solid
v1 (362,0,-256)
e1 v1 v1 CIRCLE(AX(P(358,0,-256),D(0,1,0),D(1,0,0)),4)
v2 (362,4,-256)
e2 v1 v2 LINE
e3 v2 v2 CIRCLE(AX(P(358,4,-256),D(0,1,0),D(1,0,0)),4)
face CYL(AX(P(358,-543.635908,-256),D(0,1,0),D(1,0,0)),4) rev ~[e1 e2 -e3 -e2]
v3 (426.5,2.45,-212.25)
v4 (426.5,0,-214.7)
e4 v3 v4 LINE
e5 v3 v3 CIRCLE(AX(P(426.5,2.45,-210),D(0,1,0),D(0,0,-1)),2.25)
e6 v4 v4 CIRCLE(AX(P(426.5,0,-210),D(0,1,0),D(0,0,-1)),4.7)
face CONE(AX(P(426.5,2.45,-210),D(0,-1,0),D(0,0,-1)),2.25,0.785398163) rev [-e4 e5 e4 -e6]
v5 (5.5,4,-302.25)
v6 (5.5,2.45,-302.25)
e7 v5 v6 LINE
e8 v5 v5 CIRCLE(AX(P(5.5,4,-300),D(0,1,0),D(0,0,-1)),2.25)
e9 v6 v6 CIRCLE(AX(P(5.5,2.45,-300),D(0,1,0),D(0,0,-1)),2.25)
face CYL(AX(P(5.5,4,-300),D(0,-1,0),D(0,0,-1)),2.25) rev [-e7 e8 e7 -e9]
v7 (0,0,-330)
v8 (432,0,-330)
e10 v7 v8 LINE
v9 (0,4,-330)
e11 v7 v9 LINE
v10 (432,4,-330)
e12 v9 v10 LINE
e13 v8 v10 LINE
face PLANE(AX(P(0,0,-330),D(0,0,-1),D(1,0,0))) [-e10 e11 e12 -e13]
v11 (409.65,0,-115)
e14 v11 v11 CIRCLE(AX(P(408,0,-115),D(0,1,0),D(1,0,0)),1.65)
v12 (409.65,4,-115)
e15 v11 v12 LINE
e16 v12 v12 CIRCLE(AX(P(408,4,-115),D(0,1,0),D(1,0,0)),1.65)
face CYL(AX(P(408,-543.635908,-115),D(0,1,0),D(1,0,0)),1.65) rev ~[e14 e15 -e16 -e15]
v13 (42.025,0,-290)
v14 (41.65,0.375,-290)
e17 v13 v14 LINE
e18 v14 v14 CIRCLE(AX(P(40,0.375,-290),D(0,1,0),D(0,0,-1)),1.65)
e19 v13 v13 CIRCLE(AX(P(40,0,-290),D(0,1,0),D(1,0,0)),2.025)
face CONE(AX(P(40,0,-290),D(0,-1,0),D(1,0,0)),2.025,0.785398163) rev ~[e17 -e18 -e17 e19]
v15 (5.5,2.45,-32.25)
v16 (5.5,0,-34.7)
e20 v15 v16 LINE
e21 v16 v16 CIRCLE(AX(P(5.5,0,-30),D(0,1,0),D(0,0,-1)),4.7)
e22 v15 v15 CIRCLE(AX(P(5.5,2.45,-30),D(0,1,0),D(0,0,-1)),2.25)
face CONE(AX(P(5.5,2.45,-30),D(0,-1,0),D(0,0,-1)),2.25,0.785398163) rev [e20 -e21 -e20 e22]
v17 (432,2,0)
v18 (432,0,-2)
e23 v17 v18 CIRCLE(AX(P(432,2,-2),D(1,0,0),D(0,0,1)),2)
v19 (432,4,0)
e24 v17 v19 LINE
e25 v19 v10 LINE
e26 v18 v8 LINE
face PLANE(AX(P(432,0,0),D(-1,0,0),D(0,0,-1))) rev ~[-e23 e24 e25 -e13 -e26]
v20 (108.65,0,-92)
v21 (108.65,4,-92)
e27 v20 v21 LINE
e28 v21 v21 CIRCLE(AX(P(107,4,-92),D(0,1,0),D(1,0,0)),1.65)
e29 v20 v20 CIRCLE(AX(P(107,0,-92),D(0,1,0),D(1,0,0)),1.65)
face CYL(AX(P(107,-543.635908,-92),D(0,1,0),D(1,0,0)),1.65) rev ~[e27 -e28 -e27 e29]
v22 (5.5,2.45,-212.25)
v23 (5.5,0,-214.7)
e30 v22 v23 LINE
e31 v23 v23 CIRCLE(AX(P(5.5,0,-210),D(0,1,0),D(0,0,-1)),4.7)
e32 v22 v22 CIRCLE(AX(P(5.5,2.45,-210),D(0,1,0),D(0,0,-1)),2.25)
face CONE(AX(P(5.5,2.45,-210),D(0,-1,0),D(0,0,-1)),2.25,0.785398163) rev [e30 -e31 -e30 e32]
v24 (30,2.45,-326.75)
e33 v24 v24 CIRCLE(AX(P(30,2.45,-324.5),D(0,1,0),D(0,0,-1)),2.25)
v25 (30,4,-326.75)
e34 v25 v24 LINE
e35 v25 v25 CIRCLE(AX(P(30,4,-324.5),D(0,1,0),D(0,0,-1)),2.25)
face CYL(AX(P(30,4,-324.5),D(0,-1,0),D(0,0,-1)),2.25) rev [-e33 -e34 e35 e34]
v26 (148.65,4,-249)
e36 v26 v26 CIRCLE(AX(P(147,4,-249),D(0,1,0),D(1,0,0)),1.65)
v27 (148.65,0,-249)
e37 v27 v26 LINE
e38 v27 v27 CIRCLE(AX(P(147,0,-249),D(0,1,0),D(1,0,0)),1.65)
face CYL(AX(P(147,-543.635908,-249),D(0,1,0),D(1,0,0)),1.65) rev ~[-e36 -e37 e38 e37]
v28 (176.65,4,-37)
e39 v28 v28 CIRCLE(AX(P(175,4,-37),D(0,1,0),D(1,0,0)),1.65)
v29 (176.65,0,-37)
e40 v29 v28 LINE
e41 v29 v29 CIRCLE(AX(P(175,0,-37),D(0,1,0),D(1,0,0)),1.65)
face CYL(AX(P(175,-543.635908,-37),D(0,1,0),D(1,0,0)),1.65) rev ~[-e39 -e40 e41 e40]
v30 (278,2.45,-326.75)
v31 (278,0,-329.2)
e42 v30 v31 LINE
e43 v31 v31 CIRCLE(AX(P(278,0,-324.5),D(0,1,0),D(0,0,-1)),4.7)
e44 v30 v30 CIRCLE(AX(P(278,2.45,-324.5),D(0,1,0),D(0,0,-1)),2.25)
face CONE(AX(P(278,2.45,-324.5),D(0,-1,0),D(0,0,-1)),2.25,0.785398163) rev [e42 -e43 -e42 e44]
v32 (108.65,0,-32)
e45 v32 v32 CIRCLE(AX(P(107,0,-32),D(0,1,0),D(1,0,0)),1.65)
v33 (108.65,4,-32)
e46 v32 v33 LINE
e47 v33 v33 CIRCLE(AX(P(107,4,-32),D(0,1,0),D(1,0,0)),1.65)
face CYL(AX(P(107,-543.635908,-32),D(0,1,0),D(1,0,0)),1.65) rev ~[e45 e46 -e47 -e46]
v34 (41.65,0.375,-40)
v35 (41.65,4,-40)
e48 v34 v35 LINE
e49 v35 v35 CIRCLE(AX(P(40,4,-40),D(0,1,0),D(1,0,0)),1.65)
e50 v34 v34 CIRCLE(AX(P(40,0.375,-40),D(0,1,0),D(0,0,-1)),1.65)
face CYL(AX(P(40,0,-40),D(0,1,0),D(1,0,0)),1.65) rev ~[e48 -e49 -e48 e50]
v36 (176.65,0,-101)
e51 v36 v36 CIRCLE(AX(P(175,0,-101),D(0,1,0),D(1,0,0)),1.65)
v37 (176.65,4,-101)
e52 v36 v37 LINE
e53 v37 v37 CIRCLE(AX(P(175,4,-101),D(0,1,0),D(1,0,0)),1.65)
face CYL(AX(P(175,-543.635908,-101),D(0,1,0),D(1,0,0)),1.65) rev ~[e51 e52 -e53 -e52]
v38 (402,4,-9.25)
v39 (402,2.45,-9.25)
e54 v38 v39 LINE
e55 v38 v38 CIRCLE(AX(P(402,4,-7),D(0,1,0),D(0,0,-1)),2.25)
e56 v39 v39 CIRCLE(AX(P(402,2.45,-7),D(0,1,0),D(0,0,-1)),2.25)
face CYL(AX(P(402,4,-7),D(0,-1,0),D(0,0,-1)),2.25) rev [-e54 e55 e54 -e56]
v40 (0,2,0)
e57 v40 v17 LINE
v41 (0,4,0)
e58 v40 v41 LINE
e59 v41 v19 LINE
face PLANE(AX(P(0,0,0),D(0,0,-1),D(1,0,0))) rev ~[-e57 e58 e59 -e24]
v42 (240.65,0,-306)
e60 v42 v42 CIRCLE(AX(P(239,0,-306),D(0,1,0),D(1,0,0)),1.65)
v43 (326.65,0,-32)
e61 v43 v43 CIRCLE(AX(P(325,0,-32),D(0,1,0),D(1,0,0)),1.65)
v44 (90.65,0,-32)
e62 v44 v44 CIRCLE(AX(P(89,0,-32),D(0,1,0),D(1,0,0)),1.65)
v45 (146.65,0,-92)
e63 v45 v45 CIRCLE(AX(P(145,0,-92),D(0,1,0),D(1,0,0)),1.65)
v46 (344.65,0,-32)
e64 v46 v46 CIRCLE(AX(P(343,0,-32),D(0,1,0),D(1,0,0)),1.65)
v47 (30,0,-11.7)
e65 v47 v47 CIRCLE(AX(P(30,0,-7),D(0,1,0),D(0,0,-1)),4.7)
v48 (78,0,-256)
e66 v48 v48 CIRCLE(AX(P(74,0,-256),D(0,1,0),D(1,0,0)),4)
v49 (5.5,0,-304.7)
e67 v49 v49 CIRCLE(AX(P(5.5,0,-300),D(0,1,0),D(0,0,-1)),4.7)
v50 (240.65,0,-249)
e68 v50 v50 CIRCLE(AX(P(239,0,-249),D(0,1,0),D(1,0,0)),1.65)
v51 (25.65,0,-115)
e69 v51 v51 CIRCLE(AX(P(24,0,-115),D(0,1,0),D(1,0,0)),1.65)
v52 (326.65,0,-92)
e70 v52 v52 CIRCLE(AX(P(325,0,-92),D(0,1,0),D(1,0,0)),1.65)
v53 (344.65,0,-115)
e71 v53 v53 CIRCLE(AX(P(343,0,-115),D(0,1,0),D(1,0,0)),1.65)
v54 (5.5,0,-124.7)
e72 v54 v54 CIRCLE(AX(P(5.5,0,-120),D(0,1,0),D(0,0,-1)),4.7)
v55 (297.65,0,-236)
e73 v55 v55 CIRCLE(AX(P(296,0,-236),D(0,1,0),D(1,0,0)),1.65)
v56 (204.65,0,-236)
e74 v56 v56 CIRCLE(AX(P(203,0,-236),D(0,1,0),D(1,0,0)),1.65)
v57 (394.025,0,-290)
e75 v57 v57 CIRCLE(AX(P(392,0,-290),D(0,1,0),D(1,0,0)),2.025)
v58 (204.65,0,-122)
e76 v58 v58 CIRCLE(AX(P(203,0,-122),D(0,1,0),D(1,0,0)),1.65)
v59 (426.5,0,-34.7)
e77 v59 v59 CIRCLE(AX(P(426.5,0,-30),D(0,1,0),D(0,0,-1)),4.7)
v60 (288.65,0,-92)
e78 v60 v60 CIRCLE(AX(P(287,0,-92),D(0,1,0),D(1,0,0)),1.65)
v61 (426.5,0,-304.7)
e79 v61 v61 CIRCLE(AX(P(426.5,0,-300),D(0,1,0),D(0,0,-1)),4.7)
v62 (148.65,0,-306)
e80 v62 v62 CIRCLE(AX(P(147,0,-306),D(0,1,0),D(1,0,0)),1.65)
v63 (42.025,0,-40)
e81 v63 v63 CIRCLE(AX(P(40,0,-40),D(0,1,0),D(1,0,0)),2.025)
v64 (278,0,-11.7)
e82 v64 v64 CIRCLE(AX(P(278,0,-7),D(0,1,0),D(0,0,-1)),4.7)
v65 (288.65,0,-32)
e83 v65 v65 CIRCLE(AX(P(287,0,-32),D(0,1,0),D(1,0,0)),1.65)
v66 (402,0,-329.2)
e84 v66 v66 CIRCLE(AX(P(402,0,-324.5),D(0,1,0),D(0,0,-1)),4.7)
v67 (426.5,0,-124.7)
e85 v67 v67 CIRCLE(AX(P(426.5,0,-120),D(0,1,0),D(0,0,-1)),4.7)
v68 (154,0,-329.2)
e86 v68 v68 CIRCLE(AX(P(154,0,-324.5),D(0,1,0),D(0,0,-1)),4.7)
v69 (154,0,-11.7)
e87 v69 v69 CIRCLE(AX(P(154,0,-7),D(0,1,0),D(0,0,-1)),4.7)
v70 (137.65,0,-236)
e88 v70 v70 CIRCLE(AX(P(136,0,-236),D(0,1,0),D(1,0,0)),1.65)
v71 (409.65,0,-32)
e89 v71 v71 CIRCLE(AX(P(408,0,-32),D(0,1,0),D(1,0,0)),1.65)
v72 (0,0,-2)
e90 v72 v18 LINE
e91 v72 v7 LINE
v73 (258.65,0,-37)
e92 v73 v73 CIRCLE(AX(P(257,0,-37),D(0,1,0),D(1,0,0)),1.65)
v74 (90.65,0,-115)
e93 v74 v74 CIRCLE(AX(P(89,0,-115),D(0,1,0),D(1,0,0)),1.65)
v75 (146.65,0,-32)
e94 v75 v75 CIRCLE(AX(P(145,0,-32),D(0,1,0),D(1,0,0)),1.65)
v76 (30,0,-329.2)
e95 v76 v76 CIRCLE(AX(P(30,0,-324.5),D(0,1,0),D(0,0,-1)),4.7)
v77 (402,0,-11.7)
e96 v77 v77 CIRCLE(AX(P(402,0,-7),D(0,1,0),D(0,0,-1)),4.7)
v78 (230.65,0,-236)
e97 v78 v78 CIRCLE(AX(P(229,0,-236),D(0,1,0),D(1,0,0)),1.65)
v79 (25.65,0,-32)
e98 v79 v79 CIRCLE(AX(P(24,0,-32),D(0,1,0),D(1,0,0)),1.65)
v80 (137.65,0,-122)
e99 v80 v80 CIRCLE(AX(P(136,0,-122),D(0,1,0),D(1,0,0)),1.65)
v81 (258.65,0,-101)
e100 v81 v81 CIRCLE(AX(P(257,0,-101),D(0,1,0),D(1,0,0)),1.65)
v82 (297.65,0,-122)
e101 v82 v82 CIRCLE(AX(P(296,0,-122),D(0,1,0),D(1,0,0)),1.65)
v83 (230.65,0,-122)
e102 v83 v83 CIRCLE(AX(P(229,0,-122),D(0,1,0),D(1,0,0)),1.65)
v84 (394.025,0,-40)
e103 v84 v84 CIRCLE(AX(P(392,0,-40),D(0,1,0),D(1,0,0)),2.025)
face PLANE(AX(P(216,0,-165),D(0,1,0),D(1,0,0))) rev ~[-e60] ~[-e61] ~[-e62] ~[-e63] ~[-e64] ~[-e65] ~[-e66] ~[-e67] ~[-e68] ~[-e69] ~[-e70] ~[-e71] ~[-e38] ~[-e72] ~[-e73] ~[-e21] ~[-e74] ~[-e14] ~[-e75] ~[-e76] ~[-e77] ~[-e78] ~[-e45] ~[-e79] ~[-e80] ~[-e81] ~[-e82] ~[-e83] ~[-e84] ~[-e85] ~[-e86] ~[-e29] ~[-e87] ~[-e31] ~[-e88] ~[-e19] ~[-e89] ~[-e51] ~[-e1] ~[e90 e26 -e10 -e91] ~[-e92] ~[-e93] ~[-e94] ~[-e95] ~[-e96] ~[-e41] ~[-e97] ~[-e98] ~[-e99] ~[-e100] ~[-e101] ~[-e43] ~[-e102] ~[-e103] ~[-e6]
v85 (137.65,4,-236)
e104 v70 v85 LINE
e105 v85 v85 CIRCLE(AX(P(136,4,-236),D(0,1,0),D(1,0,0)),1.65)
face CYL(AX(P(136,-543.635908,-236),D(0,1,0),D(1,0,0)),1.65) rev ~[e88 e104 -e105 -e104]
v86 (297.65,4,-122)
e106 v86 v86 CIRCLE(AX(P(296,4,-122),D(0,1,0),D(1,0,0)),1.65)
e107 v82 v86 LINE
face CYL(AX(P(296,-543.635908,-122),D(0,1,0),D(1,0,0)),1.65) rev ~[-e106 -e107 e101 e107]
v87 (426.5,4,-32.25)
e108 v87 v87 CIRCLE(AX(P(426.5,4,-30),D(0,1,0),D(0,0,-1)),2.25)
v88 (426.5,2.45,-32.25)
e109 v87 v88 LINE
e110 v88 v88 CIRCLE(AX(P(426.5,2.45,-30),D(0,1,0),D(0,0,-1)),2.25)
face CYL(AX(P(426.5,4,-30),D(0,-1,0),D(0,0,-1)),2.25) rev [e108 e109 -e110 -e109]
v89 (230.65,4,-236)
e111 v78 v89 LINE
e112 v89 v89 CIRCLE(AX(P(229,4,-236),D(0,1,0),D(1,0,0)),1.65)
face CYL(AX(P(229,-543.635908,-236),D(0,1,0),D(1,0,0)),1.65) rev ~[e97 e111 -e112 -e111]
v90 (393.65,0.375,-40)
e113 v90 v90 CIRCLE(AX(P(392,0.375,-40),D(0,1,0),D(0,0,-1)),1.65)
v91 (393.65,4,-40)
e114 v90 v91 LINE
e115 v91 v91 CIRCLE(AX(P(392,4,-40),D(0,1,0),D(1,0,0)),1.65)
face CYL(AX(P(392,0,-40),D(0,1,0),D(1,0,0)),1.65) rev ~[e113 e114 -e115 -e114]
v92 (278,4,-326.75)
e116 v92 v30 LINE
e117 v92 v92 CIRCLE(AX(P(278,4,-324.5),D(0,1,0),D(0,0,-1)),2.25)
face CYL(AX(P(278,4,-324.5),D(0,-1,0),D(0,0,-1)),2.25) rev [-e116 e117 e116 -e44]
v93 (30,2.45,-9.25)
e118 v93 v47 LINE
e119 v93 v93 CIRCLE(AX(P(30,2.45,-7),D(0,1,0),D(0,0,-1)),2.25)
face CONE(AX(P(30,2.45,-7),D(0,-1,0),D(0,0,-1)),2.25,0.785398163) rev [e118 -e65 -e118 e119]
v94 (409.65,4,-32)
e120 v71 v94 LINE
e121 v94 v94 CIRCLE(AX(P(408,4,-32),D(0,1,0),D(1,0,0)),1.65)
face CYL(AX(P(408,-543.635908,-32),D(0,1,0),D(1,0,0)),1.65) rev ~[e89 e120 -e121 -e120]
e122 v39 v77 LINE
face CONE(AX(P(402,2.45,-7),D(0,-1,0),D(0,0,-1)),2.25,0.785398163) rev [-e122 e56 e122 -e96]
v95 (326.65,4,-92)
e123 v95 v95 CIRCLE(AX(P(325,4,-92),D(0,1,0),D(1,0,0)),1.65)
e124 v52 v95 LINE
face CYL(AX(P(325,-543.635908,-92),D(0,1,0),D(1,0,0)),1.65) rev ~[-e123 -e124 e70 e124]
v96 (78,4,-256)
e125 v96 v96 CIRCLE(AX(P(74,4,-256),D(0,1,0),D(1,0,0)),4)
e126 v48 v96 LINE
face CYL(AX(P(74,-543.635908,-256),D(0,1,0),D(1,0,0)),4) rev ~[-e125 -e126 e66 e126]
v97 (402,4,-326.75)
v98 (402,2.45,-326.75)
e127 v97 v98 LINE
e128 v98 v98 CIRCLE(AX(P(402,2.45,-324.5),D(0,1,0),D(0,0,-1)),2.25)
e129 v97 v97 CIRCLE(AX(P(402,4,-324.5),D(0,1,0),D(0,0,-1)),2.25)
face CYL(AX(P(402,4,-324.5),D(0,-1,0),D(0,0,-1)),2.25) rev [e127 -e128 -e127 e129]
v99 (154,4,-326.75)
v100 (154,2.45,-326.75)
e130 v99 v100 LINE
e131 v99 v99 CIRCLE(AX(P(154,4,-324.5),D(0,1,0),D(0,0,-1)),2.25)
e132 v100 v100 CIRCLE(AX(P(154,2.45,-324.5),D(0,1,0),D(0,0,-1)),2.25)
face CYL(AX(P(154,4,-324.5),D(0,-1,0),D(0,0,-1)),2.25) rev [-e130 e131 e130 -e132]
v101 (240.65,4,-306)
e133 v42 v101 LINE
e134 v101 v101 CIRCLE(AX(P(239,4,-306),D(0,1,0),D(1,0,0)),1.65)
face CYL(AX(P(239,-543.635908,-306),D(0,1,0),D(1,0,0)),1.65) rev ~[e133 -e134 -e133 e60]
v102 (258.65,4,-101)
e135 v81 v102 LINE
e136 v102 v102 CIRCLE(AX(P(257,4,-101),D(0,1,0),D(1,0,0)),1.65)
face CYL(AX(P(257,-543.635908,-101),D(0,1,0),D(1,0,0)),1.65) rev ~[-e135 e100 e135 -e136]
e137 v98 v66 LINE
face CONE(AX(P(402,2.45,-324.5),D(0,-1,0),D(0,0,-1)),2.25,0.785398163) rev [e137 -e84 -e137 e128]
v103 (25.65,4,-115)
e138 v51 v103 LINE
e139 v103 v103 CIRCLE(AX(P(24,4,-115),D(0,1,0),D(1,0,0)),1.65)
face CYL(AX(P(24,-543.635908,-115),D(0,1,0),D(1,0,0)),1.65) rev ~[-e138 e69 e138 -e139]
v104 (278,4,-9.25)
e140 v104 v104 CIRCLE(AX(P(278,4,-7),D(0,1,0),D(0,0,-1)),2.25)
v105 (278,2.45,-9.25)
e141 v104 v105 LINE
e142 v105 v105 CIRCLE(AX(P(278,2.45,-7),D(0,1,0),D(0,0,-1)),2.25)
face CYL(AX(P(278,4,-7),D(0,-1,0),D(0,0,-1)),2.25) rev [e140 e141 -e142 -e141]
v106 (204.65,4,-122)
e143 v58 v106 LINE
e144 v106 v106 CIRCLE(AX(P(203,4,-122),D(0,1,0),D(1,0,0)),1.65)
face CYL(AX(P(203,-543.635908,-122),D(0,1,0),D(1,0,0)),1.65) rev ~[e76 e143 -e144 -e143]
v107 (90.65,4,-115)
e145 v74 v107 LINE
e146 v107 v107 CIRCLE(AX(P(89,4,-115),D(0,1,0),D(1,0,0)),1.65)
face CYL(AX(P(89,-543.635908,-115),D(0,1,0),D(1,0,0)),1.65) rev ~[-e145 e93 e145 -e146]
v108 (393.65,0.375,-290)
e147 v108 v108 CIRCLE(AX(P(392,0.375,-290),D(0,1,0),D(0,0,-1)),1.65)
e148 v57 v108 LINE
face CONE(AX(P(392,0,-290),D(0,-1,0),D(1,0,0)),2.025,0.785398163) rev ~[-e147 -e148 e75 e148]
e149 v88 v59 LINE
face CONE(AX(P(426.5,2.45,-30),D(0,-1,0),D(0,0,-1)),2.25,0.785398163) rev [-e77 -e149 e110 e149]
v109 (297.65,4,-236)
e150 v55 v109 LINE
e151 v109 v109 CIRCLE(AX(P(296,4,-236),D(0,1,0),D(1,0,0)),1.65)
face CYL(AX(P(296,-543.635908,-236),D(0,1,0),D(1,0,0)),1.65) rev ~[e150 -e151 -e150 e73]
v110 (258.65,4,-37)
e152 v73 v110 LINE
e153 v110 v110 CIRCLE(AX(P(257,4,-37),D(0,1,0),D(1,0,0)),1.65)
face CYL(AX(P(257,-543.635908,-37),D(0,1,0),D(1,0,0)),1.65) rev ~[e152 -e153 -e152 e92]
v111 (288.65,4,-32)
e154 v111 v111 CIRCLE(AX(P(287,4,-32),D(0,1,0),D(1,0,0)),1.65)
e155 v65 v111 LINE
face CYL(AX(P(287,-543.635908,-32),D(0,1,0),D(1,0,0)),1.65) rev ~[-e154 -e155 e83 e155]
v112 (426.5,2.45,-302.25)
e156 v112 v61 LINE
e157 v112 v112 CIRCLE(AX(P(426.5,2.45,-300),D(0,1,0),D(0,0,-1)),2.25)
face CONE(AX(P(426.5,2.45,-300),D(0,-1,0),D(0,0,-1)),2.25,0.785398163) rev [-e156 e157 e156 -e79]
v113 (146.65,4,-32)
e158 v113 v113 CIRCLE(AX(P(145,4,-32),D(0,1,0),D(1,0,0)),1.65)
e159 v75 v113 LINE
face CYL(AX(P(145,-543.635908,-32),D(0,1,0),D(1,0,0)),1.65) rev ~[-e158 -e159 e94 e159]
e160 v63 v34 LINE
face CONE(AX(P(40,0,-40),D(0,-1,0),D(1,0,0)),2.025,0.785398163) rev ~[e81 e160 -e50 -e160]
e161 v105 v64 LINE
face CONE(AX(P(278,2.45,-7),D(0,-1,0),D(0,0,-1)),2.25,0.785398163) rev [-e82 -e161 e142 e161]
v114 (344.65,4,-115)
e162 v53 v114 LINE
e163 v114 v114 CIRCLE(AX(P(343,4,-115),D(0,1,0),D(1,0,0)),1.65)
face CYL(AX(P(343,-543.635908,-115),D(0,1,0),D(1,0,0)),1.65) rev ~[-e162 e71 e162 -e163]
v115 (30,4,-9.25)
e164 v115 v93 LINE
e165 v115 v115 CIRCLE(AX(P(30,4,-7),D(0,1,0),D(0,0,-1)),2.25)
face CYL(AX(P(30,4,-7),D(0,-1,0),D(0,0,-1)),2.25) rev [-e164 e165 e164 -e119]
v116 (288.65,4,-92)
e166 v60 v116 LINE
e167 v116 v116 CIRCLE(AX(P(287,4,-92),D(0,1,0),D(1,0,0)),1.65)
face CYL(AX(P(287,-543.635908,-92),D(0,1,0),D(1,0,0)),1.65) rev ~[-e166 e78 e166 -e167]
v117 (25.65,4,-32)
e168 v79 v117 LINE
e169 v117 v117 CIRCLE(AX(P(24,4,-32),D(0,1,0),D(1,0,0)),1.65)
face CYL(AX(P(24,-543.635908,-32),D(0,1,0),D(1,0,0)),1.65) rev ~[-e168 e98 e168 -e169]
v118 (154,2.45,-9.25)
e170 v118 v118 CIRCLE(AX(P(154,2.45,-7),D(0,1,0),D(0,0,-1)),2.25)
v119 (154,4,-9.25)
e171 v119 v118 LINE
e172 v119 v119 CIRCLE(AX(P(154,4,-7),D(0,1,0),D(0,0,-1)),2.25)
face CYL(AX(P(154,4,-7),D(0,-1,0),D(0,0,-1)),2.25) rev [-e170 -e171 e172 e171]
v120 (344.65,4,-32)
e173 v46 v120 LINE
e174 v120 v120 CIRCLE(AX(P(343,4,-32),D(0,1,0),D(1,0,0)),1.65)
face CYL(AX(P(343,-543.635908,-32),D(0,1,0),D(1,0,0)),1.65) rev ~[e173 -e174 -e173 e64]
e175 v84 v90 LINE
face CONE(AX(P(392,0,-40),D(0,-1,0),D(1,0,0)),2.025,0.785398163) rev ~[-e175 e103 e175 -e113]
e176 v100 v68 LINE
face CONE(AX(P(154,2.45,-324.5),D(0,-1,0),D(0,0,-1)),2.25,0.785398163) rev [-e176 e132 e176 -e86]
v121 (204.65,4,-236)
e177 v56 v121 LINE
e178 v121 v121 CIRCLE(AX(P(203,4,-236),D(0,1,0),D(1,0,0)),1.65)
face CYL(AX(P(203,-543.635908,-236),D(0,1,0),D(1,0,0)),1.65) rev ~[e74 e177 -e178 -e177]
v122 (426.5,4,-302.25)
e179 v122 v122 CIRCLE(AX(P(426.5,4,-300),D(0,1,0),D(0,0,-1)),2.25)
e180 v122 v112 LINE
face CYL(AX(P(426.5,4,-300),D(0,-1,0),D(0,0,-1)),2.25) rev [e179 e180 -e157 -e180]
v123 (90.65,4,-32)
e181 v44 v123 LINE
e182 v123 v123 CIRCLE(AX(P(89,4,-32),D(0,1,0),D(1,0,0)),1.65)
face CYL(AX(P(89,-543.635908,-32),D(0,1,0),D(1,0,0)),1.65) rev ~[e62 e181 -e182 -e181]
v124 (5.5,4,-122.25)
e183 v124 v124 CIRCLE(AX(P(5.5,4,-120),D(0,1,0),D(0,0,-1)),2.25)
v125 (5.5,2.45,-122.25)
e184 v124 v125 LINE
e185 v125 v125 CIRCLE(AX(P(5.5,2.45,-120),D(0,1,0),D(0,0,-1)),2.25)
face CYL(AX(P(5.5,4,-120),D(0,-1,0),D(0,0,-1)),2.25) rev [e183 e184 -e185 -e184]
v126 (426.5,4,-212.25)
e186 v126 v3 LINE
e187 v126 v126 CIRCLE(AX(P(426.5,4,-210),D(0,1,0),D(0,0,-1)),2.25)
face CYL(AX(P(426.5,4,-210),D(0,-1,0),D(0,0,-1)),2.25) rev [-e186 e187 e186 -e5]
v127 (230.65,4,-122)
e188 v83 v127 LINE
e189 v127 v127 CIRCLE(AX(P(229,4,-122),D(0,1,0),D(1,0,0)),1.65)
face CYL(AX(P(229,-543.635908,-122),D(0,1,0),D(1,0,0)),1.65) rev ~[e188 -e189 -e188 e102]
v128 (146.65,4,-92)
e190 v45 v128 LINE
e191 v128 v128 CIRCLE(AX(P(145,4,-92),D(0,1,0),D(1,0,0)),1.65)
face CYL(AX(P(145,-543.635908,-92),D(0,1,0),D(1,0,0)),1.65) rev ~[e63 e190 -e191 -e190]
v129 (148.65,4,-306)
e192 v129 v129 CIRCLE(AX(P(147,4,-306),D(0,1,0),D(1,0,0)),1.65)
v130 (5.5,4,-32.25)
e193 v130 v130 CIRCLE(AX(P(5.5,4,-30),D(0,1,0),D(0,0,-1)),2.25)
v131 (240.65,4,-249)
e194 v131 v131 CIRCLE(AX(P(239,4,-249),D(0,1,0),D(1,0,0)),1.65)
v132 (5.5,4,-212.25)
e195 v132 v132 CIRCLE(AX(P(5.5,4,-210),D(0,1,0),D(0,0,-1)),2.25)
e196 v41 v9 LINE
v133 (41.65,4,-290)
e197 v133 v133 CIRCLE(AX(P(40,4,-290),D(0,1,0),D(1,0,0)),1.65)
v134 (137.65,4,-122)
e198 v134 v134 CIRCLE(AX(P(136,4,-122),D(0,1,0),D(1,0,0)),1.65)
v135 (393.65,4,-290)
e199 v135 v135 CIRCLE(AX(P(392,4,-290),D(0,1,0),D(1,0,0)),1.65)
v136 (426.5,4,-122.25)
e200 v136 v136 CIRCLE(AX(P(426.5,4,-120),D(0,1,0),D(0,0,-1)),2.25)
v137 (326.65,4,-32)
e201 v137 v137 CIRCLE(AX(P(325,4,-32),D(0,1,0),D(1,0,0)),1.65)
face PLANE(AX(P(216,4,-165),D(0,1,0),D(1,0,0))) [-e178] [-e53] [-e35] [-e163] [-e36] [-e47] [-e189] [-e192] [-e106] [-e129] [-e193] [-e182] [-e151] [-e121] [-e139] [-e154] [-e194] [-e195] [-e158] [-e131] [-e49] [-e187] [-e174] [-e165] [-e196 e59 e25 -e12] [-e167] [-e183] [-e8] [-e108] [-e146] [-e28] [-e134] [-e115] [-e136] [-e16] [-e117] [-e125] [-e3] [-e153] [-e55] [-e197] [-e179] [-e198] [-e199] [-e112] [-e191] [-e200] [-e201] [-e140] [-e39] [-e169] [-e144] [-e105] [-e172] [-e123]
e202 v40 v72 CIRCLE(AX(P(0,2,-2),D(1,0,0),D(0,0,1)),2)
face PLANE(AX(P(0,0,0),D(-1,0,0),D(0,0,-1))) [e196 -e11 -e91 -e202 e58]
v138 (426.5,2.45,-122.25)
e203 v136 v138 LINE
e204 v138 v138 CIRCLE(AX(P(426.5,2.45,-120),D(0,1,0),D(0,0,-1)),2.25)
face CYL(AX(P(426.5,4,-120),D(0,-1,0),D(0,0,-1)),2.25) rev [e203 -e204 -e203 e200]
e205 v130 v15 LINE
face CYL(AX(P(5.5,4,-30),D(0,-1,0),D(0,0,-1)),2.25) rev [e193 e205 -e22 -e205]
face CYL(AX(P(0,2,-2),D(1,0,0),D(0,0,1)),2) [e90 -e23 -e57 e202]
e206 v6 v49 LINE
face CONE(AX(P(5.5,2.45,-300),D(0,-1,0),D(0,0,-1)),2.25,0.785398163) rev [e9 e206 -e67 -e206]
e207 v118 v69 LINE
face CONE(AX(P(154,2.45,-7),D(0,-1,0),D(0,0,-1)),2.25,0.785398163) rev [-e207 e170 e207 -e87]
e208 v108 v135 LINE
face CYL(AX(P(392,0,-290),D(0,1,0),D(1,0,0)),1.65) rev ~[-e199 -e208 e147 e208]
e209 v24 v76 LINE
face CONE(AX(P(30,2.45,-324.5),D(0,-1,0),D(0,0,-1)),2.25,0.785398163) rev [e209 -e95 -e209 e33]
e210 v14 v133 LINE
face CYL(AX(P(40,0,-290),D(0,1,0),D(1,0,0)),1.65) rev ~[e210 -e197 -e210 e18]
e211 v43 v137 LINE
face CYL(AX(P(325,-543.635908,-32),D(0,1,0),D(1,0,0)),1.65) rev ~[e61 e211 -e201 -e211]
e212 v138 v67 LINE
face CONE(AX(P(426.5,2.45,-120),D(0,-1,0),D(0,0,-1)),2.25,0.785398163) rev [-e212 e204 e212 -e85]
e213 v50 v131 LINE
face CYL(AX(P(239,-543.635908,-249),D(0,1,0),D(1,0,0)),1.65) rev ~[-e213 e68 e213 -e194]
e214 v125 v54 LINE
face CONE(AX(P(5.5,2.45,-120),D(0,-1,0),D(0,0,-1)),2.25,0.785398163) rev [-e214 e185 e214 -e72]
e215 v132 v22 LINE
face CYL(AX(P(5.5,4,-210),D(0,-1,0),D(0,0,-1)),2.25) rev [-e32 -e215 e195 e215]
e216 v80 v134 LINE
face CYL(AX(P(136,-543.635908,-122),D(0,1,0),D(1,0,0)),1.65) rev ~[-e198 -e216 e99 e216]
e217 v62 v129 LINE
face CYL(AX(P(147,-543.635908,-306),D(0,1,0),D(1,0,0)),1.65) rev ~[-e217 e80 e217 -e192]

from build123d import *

# Parameters (mm, degrees)
SKETCH_2_W                   = 432
SKETCH_2_H                   = 330
EXTRUDE_1_DEPTH              = 4
HOLE_WIZARD_406_AT_2_COUNT   = 2
HOLE_WIZARD_406_AT_2_PITCH   = 294.02253315
HOLE_WIZARD_406_AT_3_COUNT   = 2
HOLE_WIZARD_406_AT_3_PITCH   = 204.473103366
HOLE_WIZARD_406_AT_4_COUNT   = 2
HOLE_WIZARD_406_AT_4_PITCH   = 115.625472972
HOLE_WIZARD_406_AT_5_COUNT   = 2
HOLE_WIZARD_406_AT_5_PITCH   = 33.604315199
HOLE_WIZARD_406_AT_6_COUNT   = 2
HOLE_WIZARD_406_AT_6_PITCH   = 124
HOLE_WIZARD_406_AT_7_COUNT   = 2
HOLE_WIZARD_406_AT_7_PITCH   = 248
HOLE_WIZARD_406_AT_8_COUNT   = 2
HOLE_WIZARD_406_AT_8_PITCH   = 372
HOLE_WIZARD_406_AT_9_COUNT   = 2
HOLE_WIZARD_406_AT_9_PITCH   = 397.166526787
HOLE_WIZARD_406_AT_10_COUNT  = 2
HOLE_WIZARD_406_AT_10_PITCH  = 412.28782422
HOLE_WIZARD_406_AT_11_COUNT  = 2
HOLE_WIZARD_406_AT_11_PITCH  = 445.445002217
HOLE_WIZARD_406_AT_12_COUNT  = 2
HOLE_WIZARD_406_AT_12_PITCH  = 493.012423779
HOLE_WIZARD_406_AT_13_COUNT  = 2
HOLE_WIZARD_406_AT_13_PITCH  = 489.070802645
HOLE_WIZARD_406_AT_14_COUNT  = 2
HOLE_WIZARD_406_AT_14_PITCH  = 402.87746276
HOLE_WIZARD_406_AT_15_COUNT  = 2
HOLE_WIZARD_406_AT_15_PITCH  = 340.855174524
HOLE_WIZARD_406_AT_16_COUNT  = 2
HOLE_WIZARD_406_AT_16_PITCH  = 317.5
FILLET_1_R                   = 2
HOLE_WIZARD_1584_D           = 8
M4P8_D                       = 3.3
HOLE_WIZARD_3528_D           = 3.3
HOLE_WIZARD_3528_CSINK_D     = 4.05
HOLE_WIZARD_3528_CSINK_ANGLE = 90
M4P9_D                       = 3.3
M4P10_D                      = 3.3


with BuildPart() as part:
    # 草圖2 → 填料-伸長1 (new body)
    with BuildSketch(Plane(origin=(0, 0, 0), x_dir=(1, 0, 0), z_dir=(0, 1, 0))):
        with Locations((216, 165)):
            Rectangle(SKETCH_2_W, SKETCH_2_H)
    extrude(amount=EXTRUDE_1_DEPTH)

    # 草圖3 → Hole Wizard 406 (revolve, cut)
    with BuildSketch(Plane(origin=(30, 0, -7), x_dir=(0, 0, -1), z_dir=(1, 0, 0))):
        Polygon((0, 0), (0, 4), (2.25, 4), (2.25, 2.45), (4.7, 0), align=None)
    hole_wizard_406 = revolve(axis=Axis((30, -6.35, -7), (0, 1, 0)), mode=Mode.SUBTRACT)

    # Hole Wizard 406 at 2: Hole Wizard 406 ×2
    with Locations(*[Vector(-0.083326947, 0, -0.996522263) * (i * HOLE_WIZARD_406_AT_2_PITCH) for i in range(1, HOLE_WIZARD_406_AT_2_COUNT)]):
        add(hole_wizard_406, mode=Mode.SUBTRACT)

    # Hole Wizard 406 at 3: Hole Wizard 406 ×2
    with Locations(*[Vector(-0.11982016, 0, -0.992795613) * (i * HOLE_WIZARD_406_AT_3_PITCH) for i in range(1, HOLE_WIZARD_406_AT_3_COUNT)]):
        add(hole_wizard_406, mode=Mode.SUBTRACT)

    # Hole Wizard 406 at 4: Hole Wizard 406 ×2
    with Locations(*[Vector(-0.211891025, 0, -0.9772933) * (i * HOLE_WIZARD_406_AT_4_PITCH) for i in range(1, HOLE_WIZARD_406_AT_4_COUNT)]):
        add(hole_wizard_406, mode=Mode.SUBTRACT)

    # Hole Wizard 406 at 5: Hole Wizard 406 ×2
    with Locations(*[Vector(-0.729073033, 0, -0.684435908) * (i * HOLE_WIZARD_406_AT_5_PITCH) for i in range(1, HOLE_WIZARD_406_AT_5_COUNT)]):
        add(hole_wizard_406, mode=Mode.SUBTRACT)

    # Hole Wizard 406 at 6: Hole Wizard 406 ×2
    with Locations(*[(i * HOLE_WIZARD_406_AT_6_PITCH, 0, 0) for i in range(1, HOLE_WIZARD_406_AT_6_COUNT)]):
        add(hole_wizard_406, mode=Mode.SUBTRACT)

    # Hole Wizard 406 at 7: Hole Wizard 406 ×2
    with Locations(*[(i * HOLE_WIZARD_406_AT_7_PITCH, 0, 0) for i in range(1, HOLE_WIZARD_406_AT_7_COUNT)]):
        add(hole_wizard_406, mode=Mode.SUBTRACT)

    # Hole Wizard 406 at 8: Hole Wizard 406 ×2
    with Locations(*[(i * HOLE_WIZARD_406_AT_8_PITCH, 0, 0) for i in range(1, HOLE_WIZARD_406_AT_8_COUNT)]):
        add(hole_wizard_406, mode=Mode.SUBTRACT)

    # Hole Wizard 406 at 9: Hole Wizard 406 ×2
    with Locations(*[Vector(0.998321795, 0, -0.057910218) * (i * HOLE_WIZARD_406_AT_9_PITCH) for i in range(1, HOLE_WIZARD_406_AT_9_COUNT)]):
        add(hole_wizard_406, mode=Mode.SUBTRACT)

    # Hole Wizard 406 at 10: Hole Wizard 406 ×2
    with Locations(*[Vector(0.96170679, 0, -0.274080371) * (i * HOLE_WIZARD_406_AT_10_PITCH) for i in range(1, HOLE_WIZARD_406_AT_10_COUNT)]):
        add(hole_wizard_406, mode=Mode.SUBTRACT)

    # Hole Wizard 406 at 11: Hole Wizard 406 ×2
    with Locations(*[Vector(0.89012111, 0, -0.455724049) * (i * HOLE_WIZARD_406_AT_11_PITCH) for i in range(1, HOLE_WIZARD_406_AT_11_COUNT)]):
        add(hole_wizard_406, mode=Mode.SUBTRACT)

    # Hole Wizard 406 at 12: Hole Wizard 406 ×2
    with Locations(*[Vector(0.804239368, 0, -0.59430551) * (i * HOLE_WIZARD_406_AT_12_PITCH) for i in range(1, HOLE_WIZARD_406_AT_12_COUNT)]):
        add(hole_wizard_406, mode=Mode.SUBTRACT)

    # Hole Wizard 406 at 13: Hole Wizard 406 ×2
    with Locations(*[Vector(0.760626065, 0, -0.649190257) * (i * HOLE_WIZARD_406_AT_13_PITCH) for i in range(1, HOLE_WIZARD_406_AT_13_COUNT)]):
        add(hole_wizard_406, mode=Mode.SUBTRACT)

    # Hole Wizard 406 at 14: Hole Wizard 406 ×2
    with Locations(*[Vector(0.615571788, 0, -0.788080817) * (i * HOLE_WIZARD_406_AT_14_PITCH) for i in range(1, HOLE_WIZARD_406_AT_14_COUNT)]):
        add(hole_wizard_406, mode=Mode.SUBTRACT)

    # Hole Wizard 406 at 15: Hole Wizard 406 ×2
    with Locations(*[Vector(0.363790869, 0, -0.931480651) * (i * HOLE_WIZARD_406_AT_15_PITCH) for i in range(1, HOLE_WIZARD_406_AT_15_COUNT)]):
        add(hole_wizard_406, mode=Mode.SUBTRACT)

    # Hole Wizard 406 at 16: Hole Wizard 406 ×2
    with Locations(*[(0, 0, -i * HOLE_WIZARD_406_AT_16_PITCH) for i in range(1, HOLE_WIZARD_406_AT_16_COUNT)]):
        add(hole_wizard_406, mode=Mode.SUBTRACT)

    # 圓角1
    fillet_1_edges = [part.edges().sort_by_distance(p)[0] for p in [
        (216, 0, 0),
    ]]
    fillet(fillet_1_edges, radius=FILLET_1_R)

    # Hole Wizard 1584 (through all)
    with Locations(Plane(origin=(0, 0, 0), x_dir=(-1, 0, 0), z_dir=(0, -1, 0))):
        with Locations((-74, 256), (-358, 256)):
            Hole(HOLE_WIZARD_1584_D / 2)

    # M4P8 (through all)
    with Locations(Plane(origin=(0, 0, 0), x_dir=(-1, 0, 0), z_dir=(0, -1, 0))):
        with Locations((-107, 32), (-107, 92), (-145, 32), (-145, 92), (-287, 32), (-287, 92), (-325, 32), (-325, 92), (-147, 249), (-239, 249), (-147, 306), (-239, 306)):
            Hole(M4P8_D / 2)

    # Hole Wizard 3528 (through all)
    with Locations(Plane(origin=(0, 0, 0), x_dir=(-1, 0, 0), z_dir=(0, -1, 0))):
        with Locations((-40, 40), (-40, 290), (-392, 290), (-392, 40)):
            CounterSinkHole(HOLE_WIZARD_3528_D / 2, HOLE_WIZARD_3528_CSINK_D / 2, counter_sink_angle=HOLE_WIZARD_3528_CSINK_ANGLE)

    # M4P9 (through all)
    with Locations(Plane(origin=(0, 0, 0), x_dir=(-1, 0, 0), z_dir=(0, -1, 0))):
        with Locations((-24, 32), (-89, 32), (-24, 115), (-89, 115), (-136, 122), (-136, 236), (-203, 122), (-203, 236), (-229, 122), (-229, 236), (-296, 122), (-296, 236), (-343, 32), (-408, 32), (-408, 115), (-343, 115)):
            Hole(M4P9_D / 2)

    # M4P10 (through all)
    with Locations(Plane(origin=(0, 0, 0), x_dir=(-1, 0, 0), z_dir=(0, -1, 0))):
        with Locations((-175, 37), (-257, 37), (-257, 101), (-175, 101)):
            Hole(M4P10_D / 2)


solid = part.part
